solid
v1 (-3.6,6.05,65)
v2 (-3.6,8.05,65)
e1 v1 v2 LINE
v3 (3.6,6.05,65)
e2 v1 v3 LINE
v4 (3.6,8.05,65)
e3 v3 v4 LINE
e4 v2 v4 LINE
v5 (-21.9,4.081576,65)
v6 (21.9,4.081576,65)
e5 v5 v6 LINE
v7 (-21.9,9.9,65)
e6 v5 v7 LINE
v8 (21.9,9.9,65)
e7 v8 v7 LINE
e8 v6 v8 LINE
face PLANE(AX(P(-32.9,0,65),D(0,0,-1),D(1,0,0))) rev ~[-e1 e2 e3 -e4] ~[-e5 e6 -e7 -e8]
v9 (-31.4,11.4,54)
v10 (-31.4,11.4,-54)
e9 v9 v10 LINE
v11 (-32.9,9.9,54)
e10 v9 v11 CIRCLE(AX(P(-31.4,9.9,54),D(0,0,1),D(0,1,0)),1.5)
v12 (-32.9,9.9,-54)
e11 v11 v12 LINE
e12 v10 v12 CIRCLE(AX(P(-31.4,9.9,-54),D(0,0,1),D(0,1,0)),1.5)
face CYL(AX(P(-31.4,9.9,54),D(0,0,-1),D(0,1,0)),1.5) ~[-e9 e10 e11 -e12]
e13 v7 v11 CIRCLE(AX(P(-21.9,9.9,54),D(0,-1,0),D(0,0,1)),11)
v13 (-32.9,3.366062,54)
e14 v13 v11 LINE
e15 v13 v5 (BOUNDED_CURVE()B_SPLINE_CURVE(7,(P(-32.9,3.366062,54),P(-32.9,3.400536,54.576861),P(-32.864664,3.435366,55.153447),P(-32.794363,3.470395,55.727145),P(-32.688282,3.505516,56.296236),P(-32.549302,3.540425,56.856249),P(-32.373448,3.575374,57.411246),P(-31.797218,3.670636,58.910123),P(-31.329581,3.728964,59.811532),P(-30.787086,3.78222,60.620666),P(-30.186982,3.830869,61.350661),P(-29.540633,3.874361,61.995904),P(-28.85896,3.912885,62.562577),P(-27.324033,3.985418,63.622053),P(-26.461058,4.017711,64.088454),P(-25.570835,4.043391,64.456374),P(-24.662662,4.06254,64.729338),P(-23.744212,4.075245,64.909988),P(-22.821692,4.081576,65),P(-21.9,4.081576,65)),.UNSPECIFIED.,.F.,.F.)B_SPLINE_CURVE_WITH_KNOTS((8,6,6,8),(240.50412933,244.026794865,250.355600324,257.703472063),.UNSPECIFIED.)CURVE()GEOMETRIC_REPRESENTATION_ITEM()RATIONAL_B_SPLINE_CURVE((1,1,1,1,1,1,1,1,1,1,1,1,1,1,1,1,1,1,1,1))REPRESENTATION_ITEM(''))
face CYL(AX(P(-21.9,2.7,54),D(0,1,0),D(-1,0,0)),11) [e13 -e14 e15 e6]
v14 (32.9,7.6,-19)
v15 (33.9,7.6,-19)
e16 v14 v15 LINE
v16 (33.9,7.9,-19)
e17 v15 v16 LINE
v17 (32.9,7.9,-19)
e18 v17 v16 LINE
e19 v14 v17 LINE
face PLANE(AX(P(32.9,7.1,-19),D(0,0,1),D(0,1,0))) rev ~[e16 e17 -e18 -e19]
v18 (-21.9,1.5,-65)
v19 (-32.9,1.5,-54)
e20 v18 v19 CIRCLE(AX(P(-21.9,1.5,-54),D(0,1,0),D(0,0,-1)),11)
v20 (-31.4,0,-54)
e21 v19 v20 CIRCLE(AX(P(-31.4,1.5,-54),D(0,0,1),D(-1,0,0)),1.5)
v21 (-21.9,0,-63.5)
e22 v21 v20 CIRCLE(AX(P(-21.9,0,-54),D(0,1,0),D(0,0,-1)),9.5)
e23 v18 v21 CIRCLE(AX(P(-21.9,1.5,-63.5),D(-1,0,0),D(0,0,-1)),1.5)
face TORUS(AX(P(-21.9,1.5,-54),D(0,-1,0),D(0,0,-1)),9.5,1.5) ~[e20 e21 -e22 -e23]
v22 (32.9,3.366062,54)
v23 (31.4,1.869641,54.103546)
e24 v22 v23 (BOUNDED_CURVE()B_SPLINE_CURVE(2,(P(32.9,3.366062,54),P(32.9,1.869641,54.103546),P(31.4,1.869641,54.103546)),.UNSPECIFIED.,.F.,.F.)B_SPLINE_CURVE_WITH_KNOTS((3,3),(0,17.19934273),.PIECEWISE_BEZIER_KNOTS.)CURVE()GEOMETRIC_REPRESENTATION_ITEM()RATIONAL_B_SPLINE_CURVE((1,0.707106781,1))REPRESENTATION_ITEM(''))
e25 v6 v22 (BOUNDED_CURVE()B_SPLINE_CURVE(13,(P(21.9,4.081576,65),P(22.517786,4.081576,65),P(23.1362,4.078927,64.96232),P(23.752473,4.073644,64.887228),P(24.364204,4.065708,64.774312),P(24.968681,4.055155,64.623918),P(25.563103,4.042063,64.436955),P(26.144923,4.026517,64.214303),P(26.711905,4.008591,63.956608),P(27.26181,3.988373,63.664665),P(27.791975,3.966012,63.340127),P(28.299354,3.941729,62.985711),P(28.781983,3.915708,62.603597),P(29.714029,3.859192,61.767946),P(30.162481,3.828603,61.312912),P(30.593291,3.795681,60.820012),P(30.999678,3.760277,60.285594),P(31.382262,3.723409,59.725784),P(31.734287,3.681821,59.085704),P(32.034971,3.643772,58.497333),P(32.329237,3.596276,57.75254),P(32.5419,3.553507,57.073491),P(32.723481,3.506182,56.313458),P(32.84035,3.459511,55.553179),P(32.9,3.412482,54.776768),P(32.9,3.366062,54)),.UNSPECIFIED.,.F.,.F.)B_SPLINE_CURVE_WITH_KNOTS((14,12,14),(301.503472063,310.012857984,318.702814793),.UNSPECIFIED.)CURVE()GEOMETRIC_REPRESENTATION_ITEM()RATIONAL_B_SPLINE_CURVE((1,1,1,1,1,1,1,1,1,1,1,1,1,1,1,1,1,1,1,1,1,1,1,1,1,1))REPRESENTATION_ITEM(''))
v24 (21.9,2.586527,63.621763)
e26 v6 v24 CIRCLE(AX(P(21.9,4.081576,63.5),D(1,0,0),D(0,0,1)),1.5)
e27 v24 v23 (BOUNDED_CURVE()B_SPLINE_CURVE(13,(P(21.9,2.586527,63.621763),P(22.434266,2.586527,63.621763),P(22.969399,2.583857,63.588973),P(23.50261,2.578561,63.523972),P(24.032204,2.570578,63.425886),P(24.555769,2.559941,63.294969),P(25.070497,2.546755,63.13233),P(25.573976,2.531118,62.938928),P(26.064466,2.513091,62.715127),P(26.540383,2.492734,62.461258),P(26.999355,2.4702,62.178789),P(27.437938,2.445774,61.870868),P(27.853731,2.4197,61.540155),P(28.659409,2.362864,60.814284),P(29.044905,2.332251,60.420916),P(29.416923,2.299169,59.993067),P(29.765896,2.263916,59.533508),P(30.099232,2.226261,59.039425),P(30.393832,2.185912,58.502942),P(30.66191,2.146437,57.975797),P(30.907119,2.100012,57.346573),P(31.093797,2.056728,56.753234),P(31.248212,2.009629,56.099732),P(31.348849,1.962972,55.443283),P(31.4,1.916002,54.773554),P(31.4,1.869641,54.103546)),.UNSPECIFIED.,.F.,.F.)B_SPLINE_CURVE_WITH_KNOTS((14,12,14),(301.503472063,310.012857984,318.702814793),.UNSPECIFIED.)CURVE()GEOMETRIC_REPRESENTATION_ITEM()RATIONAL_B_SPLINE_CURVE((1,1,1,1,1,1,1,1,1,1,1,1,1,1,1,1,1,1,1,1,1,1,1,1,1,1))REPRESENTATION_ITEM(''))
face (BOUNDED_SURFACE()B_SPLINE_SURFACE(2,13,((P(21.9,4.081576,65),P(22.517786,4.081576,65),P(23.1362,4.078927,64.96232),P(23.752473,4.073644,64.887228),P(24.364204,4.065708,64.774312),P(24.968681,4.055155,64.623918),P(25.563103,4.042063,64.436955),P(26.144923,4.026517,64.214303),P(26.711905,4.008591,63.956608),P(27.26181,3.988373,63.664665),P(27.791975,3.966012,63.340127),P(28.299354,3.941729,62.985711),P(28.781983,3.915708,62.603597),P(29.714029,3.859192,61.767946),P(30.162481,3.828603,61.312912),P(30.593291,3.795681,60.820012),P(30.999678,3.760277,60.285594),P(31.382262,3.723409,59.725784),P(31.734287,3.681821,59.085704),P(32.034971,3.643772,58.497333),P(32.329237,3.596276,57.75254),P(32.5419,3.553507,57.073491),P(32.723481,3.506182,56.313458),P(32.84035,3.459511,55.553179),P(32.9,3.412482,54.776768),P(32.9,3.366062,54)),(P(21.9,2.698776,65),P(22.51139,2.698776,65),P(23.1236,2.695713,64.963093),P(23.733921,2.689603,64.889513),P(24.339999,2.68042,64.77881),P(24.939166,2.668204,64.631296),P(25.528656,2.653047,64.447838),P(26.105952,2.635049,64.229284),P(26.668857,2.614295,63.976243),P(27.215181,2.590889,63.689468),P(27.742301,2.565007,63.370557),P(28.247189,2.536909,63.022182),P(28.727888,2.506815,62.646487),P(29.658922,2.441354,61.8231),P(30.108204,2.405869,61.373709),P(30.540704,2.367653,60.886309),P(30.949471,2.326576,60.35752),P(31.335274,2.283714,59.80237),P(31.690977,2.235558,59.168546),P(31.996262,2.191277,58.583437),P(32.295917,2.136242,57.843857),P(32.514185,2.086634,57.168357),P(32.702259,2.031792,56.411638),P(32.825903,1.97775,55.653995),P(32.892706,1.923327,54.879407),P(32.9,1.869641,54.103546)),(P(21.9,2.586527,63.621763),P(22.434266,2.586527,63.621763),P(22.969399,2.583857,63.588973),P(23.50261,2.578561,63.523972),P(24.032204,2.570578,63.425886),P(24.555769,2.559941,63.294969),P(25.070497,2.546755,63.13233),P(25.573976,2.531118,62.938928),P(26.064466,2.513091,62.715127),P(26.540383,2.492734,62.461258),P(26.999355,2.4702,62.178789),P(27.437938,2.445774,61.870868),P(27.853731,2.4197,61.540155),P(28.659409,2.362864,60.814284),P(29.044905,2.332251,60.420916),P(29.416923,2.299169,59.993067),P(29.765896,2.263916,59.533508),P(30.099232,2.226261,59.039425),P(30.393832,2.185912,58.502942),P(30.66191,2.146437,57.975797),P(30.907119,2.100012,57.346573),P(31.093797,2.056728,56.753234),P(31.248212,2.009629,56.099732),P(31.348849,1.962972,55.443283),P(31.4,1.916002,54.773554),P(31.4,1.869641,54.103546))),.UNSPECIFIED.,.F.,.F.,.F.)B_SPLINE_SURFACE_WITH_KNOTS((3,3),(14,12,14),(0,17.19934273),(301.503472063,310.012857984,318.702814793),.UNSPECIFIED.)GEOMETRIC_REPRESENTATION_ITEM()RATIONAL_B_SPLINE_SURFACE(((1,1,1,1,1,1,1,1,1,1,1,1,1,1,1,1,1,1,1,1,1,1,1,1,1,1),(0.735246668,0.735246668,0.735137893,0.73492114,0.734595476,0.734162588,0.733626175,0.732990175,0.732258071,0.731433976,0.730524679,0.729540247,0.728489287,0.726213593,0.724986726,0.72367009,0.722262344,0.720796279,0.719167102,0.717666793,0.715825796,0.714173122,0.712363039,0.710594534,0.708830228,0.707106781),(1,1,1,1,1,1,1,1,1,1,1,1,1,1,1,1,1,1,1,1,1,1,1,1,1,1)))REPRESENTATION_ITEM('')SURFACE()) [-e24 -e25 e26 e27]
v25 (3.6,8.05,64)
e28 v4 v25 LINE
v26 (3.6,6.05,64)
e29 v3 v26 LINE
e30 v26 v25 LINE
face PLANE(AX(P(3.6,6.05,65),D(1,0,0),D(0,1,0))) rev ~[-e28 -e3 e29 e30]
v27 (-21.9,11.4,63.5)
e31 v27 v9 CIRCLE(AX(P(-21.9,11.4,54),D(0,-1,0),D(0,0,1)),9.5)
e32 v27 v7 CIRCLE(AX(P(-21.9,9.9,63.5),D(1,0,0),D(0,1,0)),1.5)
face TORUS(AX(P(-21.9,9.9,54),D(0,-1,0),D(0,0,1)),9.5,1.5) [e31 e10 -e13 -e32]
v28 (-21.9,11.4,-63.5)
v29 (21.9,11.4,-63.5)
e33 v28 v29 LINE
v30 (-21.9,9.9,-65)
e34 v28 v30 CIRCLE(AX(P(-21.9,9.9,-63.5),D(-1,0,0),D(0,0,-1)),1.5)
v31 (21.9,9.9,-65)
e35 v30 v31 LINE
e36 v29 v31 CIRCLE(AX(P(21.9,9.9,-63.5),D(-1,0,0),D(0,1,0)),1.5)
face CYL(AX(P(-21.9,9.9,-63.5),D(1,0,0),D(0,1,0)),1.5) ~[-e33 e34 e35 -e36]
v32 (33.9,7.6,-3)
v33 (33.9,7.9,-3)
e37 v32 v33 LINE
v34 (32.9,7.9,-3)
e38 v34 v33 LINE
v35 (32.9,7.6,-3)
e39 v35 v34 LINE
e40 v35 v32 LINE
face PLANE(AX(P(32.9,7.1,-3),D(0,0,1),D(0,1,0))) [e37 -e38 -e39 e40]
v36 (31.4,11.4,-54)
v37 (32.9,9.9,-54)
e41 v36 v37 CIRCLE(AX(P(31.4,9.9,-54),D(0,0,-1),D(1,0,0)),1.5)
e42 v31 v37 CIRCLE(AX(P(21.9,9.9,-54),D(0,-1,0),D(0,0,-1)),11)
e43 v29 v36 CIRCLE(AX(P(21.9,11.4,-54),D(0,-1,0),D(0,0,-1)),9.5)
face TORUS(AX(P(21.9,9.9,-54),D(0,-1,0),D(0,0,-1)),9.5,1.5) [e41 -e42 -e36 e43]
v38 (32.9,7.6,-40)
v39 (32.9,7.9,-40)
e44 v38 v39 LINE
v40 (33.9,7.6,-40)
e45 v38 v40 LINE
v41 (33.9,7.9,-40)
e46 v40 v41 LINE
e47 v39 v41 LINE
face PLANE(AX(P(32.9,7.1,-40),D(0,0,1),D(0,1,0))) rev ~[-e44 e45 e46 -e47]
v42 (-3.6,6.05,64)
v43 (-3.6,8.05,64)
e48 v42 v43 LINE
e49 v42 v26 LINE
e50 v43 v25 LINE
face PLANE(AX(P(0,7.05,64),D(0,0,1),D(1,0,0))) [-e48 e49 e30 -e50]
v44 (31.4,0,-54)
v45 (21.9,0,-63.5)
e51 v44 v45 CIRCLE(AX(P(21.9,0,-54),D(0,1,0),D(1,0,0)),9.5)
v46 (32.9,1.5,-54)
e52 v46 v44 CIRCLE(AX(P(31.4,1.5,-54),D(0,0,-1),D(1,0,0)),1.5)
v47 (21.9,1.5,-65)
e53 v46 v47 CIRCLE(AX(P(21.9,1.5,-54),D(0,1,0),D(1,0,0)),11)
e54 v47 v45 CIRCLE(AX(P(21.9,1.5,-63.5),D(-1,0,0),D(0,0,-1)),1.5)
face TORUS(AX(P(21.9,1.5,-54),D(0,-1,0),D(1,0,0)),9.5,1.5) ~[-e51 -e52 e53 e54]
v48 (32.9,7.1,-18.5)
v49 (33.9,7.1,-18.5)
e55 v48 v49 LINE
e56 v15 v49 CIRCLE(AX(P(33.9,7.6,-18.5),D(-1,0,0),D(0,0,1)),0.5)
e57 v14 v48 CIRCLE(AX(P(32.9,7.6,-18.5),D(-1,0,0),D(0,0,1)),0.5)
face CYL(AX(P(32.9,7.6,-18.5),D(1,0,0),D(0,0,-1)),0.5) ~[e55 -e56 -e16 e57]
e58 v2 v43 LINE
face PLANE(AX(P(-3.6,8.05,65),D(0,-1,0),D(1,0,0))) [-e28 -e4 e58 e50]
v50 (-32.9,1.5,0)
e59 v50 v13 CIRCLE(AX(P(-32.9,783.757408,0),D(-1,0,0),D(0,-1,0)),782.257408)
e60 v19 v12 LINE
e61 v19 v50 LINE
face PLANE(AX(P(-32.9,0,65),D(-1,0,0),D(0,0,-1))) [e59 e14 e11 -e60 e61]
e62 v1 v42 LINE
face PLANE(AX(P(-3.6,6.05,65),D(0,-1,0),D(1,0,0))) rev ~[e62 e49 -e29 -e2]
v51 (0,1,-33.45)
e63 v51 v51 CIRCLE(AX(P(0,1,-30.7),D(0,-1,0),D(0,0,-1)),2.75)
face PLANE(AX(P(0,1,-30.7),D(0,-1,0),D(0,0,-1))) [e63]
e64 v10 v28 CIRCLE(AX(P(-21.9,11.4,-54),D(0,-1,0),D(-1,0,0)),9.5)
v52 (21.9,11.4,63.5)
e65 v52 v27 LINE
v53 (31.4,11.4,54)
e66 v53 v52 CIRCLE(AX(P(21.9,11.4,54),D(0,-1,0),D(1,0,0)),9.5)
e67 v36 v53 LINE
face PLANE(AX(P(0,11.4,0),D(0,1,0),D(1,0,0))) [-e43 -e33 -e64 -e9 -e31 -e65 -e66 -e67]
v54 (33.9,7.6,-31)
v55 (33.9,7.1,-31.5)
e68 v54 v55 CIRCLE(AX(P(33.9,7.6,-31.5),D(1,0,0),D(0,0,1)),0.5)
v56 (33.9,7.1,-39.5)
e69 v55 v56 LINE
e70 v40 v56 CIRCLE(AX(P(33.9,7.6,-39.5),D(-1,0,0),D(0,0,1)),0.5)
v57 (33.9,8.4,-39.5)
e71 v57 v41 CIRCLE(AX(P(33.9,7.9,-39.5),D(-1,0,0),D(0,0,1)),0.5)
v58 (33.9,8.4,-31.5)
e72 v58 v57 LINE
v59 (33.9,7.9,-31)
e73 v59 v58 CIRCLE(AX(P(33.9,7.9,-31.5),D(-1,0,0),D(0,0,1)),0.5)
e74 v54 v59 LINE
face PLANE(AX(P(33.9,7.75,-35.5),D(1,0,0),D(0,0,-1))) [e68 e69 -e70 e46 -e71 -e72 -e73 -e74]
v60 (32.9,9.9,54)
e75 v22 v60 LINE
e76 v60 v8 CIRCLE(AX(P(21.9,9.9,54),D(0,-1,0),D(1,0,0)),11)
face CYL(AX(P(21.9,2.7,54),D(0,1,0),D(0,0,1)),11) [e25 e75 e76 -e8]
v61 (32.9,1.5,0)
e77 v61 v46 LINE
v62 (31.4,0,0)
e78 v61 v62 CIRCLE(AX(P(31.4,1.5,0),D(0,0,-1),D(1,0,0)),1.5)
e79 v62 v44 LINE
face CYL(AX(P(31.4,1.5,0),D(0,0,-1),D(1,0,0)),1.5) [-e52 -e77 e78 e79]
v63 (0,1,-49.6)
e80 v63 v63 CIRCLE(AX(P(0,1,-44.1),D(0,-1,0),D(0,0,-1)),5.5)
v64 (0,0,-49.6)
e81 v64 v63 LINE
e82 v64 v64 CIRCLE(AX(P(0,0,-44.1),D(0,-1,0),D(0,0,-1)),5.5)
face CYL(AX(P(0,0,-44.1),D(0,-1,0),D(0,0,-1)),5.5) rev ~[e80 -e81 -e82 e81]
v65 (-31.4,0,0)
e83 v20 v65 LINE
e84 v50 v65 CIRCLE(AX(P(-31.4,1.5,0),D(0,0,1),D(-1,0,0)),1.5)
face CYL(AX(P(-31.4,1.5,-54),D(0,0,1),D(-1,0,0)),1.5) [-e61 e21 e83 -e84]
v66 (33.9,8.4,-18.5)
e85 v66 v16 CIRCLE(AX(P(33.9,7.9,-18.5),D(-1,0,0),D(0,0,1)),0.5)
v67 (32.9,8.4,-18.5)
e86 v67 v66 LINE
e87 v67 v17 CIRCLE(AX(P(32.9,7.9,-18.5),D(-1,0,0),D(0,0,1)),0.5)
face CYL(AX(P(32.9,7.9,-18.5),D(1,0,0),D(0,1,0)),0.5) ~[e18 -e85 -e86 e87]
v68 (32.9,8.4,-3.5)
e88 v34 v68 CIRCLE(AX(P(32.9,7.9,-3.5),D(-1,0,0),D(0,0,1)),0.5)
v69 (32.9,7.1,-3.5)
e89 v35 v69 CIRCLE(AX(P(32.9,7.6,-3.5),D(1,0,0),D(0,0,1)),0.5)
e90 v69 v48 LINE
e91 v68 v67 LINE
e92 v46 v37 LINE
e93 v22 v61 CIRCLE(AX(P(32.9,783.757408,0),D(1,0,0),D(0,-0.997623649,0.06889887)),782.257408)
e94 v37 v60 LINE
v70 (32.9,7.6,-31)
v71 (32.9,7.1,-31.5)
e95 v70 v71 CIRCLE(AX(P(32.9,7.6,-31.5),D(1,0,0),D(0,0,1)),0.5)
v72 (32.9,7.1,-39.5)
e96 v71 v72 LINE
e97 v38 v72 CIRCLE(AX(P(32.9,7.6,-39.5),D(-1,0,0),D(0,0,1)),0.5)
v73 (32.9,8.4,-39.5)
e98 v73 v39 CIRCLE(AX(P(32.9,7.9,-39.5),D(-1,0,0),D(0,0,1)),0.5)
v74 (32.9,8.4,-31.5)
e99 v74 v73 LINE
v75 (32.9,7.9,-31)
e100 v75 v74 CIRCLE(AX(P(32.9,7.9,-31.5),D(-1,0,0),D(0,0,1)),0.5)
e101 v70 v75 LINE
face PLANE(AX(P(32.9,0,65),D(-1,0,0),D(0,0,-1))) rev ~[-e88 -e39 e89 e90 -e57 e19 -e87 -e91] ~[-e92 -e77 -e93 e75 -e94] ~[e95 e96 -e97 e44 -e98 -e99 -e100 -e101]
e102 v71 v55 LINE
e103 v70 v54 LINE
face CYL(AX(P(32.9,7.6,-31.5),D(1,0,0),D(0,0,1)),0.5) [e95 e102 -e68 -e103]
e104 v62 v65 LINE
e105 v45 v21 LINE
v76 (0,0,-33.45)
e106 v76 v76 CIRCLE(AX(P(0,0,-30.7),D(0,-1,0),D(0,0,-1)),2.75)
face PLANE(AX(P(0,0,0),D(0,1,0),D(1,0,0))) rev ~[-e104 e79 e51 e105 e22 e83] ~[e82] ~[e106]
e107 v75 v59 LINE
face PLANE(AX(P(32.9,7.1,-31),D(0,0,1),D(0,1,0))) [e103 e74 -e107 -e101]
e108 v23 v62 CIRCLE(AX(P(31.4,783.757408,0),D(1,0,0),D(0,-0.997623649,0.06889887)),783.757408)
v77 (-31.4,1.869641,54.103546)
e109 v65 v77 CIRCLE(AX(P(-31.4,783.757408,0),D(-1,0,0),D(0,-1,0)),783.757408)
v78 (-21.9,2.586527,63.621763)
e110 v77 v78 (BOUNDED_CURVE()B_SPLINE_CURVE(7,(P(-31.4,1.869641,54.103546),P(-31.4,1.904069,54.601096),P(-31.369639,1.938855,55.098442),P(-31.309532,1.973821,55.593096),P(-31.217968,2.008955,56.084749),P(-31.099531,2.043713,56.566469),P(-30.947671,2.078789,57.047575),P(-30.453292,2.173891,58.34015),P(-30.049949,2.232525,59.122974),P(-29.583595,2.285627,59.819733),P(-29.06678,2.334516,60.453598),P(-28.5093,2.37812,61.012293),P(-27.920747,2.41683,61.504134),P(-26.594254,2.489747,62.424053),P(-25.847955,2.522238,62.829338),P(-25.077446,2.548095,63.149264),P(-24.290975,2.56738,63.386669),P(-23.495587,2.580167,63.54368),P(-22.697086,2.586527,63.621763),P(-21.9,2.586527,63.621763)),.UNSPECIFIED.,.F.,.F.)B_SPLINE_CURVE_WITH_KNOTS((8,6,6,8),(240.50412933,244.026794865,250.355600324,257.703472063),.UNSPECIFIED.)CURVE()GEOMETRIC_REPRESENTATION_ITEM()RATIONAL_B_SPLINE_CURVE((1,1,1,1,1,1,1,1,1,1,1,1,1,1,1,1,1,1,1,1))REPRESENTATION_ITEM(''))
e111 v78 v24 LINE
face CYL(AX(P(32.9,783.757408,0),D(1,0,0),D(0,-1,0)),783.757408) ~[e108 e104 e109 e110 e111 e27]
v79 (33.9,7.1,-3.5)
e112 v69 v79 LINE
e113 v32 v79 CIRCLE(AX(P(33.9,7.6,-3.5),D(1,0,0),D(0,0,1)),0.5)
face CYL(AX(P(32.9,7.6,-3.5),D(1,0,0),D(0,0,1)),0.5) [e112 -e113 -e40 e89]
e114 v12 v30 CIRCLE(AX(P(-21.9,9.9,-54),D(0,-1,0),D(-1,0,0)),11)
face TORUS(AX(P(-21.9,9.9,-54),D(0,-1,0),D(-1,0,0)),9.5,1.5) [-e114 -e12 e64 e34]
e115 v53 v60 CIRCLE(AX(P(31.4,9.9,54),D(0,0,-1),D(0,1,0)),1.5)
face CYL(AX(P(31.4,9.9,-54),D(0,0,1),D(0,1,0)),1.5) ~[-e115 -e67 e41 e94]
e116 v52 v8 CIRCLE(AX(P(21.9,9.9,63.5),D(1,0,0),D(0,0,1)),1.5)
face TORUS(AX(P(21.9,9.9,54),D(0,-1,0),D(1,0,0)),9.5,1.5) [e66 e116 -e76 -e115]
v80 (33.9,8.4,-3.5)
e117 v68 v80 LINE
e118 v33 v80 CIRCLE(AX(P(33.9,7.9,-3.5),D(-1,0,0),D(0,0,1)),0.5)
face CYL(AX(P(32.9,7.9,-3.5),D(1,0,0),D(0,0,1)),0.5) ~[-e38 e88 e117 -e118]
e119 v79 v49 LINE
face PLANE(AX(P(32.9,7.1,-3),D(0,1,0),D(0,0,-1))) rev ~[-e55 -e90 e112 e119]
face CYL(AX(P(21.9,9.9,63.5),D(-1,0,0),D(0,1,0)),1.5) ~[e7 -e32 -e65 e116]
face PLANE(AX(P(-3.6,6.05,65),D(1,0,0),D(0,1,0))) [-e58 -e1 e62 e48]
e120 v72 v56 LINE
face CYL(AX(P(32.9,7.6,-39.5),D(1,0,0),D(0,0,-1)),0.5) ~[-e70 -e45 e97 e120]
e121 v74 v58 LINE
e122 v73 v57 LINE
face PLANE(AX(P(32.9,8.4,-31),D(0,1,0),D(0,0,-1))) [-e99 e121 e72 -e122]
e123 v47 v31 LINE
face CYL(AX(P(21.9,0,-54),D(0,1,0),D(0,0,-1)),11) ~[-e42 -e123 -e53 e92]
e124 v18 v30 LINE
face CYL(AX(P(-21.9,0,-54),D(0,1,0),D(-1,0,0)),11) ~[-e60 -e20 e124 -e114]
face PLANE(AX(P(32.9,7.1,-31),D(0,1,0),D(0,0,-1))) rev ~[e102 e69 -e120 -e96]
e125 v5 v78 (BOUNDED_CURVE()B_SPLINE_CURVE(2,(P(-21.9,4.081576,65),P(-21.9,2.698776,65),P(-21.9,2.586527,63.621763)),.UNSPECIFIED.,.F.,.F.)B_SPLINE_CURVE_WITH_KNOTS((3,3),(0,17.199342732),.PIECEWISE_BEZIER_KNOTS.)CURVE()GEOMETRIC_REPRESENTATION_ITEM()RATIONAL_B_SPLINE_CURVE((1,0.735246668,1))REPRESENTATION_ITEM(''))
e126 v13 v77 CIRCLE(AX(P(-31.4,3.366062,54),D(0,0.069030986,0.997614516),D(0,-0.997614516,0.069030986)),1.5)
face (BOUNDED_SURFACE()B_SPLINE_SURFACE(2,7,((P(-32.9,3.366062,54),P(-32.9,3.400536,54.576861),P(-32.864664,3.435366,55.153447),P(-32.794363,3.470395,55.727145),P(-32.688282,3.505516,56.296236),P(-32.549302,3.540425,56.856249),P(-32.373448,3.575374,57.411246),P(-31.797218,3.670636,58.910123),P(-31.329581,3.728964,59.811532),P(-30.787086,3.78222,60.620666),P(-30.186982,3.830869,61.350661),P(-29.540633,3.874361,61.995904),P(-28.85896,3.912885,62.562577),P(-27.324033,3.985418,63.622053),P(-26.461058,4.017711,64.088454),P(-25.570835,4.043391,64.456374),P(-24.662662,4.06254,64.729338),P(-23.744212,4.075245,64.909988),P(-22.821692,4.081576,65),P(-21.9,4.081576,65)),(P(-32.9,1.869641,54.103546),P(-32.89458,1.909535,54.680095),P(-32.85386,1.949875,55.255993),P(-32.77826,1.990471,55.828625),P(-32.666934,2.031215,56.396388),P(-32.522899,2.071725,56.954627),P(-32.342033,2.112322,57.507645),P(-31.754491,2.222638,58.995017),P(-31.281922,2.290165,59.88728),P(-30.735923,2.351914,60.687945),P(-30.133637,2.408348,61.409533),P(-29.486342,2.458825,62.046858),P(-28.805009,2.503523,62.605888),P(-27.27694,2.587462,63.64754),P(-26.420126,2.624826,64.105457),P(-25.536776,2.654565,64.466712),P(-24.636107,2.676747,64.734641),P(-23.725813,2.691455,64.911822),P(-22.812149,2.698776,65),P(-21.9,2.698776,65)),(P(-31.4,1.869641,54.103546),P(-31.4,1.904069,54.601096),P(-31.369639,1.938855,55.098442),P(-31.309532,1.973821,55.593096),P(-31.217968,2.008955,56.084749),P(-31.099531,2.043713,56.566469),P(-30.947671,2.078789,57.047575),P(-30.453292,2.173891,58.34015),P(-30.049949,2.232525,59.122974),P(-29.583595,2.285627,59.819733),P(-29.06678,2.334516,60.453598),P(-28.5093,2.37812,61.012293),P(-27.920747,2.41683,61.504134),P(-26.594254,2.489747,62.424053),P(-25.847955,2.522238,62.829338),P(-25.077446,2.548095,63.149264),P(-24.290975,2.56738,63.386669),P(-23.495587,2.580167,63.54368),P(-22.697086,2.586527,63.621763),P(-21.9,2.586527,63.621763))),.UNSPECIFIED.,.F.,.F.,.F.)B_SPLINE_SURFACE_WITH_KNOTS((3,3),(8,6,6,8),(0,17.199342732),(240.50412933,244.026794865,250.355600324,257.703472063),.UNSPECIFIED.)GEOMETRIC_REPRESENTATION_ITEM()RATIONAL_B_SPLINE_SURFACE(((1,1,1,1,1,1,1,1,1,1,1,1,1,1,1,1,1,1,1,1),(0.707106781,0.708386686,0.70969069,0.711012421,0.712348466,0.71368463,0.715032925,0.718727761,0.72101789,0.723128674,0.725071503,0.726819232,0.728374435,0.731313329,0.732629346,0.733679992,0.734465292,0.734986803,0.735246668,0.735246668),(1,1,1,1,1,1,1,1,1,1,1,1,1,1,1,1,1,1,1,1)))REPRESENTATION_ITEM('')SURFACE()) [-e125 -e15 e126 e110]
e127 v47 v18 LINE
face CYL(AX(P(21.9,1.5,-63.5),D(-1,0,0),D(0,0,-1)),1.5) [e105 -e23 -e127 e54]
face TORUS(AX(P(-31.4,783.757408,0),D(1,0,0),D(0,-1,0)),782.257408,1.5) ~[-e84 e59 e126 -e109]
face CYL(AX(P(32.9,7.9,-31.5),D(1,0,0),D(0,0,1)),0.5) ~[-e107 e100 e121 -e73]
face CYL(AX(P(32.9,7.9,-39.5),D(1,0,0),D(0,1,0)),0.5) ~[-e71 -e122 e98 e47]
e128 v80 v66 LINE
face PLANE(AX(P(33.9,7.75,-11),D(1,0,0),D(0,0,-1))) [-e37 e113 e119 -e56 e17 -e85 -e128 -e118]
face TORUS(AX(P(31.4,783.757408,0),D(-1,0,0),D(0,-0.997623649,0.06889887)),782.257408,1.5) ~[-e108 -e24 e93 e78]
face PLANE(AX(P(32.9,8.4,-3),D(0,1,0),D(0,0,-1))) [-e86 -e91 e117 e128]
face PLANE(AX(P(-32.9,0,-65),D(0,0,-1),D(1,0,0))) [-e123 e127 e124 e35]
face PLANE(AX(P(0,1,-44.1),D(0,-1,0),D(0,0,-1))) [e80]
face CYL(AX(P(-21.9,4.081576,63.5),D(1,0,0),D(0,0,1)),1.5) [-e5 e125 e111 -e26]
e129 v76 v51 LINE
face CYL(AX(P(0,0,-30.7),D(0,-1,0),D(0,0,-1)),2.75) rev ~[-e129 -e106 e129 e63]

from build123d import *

# Parameters (mm, degrees)
SKETCH1_W           = 65.8
SKETCH1_H           = 130
BOSS_EXTRUDE1_DEPTH = 11.4
CUT_EXTRUDE1_DEPTH  = 94.191201301
FILLET1_R           = 11
SKETCH3_R           = 5.5
SKETCH3_R_2         = 2.75
CUT_EXTRUDE2_DEPTH  = 1
SKETCH4_W           = 16
SKETCH4_H           = 1.3
SKETCH4_W_2         = 9
BOSS_EXTRUDE2_DEPTH = 1
SKETCH5_W           = 7.2
SKETCH5_H           = 2
CUT_EXTRUDE3_DEPTH  = 1
FILLET2_R           = 0.5
FILLET3_R           = 1.5


with BuildPart() as part:
    # Sketch1 → Boss-Extrude1 (new body)
    with BuildSketch(Plane(origin=(0, 0, 0), x_dir=(1, 0, 0), z_dir=(0, 1, 0))):
        Rectangle(SKETCH1_W, SKETCH1_H)
    extrude(amount=BOSS_EXTRUDE1_DEPTH)

    # Sketch2 → Cut-Extrude1 (cut, through all)
    with BuildSketch(Plane(origin=(32.9, 0, 0), x_dir=(0, 0, -1), z_dir=(1, 0, 0))):
        with BuildLine():
            Line((-65, 2.7), (-65, 0))
            Line((-65, 0), (0, 0))
            ThreePointArc((0, 0), (-32.528026377, 0.675290918), (-65, 2.7))
        make_face()
    extrude(amount=-CUT_EXTRUDE1_DEPTH, mode=Mode.SUBTRACT)

    # Fillet1
    fillet1_edges = [part.edges().sort_by_distance(p)[0] for p in [
        (32.9, 7.05, 65),
        (-32.9, 7.05, 65),
        (-32.9, 5.7, -65),
        (32.9, 5.7, -65),
    ]]
    fillet(fillet1_edges, radius=FILLET1_R)

    # Sketch3 → Cut-Extrude2 (cut)
    with BuildSketch(Plane.XZ):
        with Locations(Location((0, -44.1, 0), (0, 0, 270))):
            Circle(SKETCH3_R)
        with Locations(Location((0, -30.7, 0), (0, 0, 270))):
            Circle(SKETCH3_R_2)
    extrude(amount=-CUT_EXTRUDE2_DEPTH, mode=Mode.SUBTRACT)

    # Sketch4 → Boss-Extrude2 (add)
    with BuildSketch(Plane(origin=(32.9, 0, 0), x_dir=(0, 0, -1), z_dir=(1, 0, 0))):
        with Locations((11, 7.75)):
            Rectangle(SKETCH4_W, SKETCH4_H)
        with Locations((35.5, 7.75)):
            Rectangle(SKETCH4_W_2, SKETCH4_H)
    extrude(amount=BOSS_EXTRUDE2_DEPTH)

    # Sketch5 → Cut-Extrude3 (cut)
    with BuildSketch(Plane.XY.offset(65)):
        with Locations((0, 7.05)):
            Rectangle(SKETCH5_W, SKETCH5_H)
    extrude(amount=-CUT_EXTRUDE3_DEPTH, mode=Mode.SUBTRACT)

    # Fillet2
    fillet2_edges = [part.edges().sort_by_distance(p)[0] for p in [
        (33.4, 7.1, -19),
        (33.4, 8.4, -19),
        (33.4, 8.4, -3),
        (33.4, 7.1, -3),
        (33.4, 7.1, -40),
        (33.4, 8.4, -40),
        (33.4, 8.4, -31),
        (33.4, 7.1, -31),
    ]]
    fillet(fillet2_edges, radius=FILLET2_R)

    # Fillet3
    fillet3_edges = [part.edges().sort_by_distance(p)[0] for p in [
        (32.9, 0, -27),
        (-32.9, 0.465759006, 27.016054675),
        (32.9, 0.465759006, 27.016054675),
        (-32.9, 0, -27),
        (-32.9, 11.4, 0),
        (0, 0, -65),
        (29.678174593, 0, -61.778174593),
        (-29.678174593, 0, -61.778174593),
        (0, 11.4, -65),
        (32.9, 11.4, 0),
        (0, 11.4, 65),
        (-29.678174593, 11.4, 61.778174593),
        (29.678174593, 11.4, 61.778174593),
        (29.678174593, 11.4, -61.778174593),
        (-29.678174593, 11.4, -61.778174593),
        (0, 2.7, 65),
        (-29.683166447, 2.438171783, 61.773179536),
        (29.683166447, 2.438171783, 61.773179536),
    ]]
    fillet(fillet3_edges, radius=FILLET3_R)


solid = part.part
